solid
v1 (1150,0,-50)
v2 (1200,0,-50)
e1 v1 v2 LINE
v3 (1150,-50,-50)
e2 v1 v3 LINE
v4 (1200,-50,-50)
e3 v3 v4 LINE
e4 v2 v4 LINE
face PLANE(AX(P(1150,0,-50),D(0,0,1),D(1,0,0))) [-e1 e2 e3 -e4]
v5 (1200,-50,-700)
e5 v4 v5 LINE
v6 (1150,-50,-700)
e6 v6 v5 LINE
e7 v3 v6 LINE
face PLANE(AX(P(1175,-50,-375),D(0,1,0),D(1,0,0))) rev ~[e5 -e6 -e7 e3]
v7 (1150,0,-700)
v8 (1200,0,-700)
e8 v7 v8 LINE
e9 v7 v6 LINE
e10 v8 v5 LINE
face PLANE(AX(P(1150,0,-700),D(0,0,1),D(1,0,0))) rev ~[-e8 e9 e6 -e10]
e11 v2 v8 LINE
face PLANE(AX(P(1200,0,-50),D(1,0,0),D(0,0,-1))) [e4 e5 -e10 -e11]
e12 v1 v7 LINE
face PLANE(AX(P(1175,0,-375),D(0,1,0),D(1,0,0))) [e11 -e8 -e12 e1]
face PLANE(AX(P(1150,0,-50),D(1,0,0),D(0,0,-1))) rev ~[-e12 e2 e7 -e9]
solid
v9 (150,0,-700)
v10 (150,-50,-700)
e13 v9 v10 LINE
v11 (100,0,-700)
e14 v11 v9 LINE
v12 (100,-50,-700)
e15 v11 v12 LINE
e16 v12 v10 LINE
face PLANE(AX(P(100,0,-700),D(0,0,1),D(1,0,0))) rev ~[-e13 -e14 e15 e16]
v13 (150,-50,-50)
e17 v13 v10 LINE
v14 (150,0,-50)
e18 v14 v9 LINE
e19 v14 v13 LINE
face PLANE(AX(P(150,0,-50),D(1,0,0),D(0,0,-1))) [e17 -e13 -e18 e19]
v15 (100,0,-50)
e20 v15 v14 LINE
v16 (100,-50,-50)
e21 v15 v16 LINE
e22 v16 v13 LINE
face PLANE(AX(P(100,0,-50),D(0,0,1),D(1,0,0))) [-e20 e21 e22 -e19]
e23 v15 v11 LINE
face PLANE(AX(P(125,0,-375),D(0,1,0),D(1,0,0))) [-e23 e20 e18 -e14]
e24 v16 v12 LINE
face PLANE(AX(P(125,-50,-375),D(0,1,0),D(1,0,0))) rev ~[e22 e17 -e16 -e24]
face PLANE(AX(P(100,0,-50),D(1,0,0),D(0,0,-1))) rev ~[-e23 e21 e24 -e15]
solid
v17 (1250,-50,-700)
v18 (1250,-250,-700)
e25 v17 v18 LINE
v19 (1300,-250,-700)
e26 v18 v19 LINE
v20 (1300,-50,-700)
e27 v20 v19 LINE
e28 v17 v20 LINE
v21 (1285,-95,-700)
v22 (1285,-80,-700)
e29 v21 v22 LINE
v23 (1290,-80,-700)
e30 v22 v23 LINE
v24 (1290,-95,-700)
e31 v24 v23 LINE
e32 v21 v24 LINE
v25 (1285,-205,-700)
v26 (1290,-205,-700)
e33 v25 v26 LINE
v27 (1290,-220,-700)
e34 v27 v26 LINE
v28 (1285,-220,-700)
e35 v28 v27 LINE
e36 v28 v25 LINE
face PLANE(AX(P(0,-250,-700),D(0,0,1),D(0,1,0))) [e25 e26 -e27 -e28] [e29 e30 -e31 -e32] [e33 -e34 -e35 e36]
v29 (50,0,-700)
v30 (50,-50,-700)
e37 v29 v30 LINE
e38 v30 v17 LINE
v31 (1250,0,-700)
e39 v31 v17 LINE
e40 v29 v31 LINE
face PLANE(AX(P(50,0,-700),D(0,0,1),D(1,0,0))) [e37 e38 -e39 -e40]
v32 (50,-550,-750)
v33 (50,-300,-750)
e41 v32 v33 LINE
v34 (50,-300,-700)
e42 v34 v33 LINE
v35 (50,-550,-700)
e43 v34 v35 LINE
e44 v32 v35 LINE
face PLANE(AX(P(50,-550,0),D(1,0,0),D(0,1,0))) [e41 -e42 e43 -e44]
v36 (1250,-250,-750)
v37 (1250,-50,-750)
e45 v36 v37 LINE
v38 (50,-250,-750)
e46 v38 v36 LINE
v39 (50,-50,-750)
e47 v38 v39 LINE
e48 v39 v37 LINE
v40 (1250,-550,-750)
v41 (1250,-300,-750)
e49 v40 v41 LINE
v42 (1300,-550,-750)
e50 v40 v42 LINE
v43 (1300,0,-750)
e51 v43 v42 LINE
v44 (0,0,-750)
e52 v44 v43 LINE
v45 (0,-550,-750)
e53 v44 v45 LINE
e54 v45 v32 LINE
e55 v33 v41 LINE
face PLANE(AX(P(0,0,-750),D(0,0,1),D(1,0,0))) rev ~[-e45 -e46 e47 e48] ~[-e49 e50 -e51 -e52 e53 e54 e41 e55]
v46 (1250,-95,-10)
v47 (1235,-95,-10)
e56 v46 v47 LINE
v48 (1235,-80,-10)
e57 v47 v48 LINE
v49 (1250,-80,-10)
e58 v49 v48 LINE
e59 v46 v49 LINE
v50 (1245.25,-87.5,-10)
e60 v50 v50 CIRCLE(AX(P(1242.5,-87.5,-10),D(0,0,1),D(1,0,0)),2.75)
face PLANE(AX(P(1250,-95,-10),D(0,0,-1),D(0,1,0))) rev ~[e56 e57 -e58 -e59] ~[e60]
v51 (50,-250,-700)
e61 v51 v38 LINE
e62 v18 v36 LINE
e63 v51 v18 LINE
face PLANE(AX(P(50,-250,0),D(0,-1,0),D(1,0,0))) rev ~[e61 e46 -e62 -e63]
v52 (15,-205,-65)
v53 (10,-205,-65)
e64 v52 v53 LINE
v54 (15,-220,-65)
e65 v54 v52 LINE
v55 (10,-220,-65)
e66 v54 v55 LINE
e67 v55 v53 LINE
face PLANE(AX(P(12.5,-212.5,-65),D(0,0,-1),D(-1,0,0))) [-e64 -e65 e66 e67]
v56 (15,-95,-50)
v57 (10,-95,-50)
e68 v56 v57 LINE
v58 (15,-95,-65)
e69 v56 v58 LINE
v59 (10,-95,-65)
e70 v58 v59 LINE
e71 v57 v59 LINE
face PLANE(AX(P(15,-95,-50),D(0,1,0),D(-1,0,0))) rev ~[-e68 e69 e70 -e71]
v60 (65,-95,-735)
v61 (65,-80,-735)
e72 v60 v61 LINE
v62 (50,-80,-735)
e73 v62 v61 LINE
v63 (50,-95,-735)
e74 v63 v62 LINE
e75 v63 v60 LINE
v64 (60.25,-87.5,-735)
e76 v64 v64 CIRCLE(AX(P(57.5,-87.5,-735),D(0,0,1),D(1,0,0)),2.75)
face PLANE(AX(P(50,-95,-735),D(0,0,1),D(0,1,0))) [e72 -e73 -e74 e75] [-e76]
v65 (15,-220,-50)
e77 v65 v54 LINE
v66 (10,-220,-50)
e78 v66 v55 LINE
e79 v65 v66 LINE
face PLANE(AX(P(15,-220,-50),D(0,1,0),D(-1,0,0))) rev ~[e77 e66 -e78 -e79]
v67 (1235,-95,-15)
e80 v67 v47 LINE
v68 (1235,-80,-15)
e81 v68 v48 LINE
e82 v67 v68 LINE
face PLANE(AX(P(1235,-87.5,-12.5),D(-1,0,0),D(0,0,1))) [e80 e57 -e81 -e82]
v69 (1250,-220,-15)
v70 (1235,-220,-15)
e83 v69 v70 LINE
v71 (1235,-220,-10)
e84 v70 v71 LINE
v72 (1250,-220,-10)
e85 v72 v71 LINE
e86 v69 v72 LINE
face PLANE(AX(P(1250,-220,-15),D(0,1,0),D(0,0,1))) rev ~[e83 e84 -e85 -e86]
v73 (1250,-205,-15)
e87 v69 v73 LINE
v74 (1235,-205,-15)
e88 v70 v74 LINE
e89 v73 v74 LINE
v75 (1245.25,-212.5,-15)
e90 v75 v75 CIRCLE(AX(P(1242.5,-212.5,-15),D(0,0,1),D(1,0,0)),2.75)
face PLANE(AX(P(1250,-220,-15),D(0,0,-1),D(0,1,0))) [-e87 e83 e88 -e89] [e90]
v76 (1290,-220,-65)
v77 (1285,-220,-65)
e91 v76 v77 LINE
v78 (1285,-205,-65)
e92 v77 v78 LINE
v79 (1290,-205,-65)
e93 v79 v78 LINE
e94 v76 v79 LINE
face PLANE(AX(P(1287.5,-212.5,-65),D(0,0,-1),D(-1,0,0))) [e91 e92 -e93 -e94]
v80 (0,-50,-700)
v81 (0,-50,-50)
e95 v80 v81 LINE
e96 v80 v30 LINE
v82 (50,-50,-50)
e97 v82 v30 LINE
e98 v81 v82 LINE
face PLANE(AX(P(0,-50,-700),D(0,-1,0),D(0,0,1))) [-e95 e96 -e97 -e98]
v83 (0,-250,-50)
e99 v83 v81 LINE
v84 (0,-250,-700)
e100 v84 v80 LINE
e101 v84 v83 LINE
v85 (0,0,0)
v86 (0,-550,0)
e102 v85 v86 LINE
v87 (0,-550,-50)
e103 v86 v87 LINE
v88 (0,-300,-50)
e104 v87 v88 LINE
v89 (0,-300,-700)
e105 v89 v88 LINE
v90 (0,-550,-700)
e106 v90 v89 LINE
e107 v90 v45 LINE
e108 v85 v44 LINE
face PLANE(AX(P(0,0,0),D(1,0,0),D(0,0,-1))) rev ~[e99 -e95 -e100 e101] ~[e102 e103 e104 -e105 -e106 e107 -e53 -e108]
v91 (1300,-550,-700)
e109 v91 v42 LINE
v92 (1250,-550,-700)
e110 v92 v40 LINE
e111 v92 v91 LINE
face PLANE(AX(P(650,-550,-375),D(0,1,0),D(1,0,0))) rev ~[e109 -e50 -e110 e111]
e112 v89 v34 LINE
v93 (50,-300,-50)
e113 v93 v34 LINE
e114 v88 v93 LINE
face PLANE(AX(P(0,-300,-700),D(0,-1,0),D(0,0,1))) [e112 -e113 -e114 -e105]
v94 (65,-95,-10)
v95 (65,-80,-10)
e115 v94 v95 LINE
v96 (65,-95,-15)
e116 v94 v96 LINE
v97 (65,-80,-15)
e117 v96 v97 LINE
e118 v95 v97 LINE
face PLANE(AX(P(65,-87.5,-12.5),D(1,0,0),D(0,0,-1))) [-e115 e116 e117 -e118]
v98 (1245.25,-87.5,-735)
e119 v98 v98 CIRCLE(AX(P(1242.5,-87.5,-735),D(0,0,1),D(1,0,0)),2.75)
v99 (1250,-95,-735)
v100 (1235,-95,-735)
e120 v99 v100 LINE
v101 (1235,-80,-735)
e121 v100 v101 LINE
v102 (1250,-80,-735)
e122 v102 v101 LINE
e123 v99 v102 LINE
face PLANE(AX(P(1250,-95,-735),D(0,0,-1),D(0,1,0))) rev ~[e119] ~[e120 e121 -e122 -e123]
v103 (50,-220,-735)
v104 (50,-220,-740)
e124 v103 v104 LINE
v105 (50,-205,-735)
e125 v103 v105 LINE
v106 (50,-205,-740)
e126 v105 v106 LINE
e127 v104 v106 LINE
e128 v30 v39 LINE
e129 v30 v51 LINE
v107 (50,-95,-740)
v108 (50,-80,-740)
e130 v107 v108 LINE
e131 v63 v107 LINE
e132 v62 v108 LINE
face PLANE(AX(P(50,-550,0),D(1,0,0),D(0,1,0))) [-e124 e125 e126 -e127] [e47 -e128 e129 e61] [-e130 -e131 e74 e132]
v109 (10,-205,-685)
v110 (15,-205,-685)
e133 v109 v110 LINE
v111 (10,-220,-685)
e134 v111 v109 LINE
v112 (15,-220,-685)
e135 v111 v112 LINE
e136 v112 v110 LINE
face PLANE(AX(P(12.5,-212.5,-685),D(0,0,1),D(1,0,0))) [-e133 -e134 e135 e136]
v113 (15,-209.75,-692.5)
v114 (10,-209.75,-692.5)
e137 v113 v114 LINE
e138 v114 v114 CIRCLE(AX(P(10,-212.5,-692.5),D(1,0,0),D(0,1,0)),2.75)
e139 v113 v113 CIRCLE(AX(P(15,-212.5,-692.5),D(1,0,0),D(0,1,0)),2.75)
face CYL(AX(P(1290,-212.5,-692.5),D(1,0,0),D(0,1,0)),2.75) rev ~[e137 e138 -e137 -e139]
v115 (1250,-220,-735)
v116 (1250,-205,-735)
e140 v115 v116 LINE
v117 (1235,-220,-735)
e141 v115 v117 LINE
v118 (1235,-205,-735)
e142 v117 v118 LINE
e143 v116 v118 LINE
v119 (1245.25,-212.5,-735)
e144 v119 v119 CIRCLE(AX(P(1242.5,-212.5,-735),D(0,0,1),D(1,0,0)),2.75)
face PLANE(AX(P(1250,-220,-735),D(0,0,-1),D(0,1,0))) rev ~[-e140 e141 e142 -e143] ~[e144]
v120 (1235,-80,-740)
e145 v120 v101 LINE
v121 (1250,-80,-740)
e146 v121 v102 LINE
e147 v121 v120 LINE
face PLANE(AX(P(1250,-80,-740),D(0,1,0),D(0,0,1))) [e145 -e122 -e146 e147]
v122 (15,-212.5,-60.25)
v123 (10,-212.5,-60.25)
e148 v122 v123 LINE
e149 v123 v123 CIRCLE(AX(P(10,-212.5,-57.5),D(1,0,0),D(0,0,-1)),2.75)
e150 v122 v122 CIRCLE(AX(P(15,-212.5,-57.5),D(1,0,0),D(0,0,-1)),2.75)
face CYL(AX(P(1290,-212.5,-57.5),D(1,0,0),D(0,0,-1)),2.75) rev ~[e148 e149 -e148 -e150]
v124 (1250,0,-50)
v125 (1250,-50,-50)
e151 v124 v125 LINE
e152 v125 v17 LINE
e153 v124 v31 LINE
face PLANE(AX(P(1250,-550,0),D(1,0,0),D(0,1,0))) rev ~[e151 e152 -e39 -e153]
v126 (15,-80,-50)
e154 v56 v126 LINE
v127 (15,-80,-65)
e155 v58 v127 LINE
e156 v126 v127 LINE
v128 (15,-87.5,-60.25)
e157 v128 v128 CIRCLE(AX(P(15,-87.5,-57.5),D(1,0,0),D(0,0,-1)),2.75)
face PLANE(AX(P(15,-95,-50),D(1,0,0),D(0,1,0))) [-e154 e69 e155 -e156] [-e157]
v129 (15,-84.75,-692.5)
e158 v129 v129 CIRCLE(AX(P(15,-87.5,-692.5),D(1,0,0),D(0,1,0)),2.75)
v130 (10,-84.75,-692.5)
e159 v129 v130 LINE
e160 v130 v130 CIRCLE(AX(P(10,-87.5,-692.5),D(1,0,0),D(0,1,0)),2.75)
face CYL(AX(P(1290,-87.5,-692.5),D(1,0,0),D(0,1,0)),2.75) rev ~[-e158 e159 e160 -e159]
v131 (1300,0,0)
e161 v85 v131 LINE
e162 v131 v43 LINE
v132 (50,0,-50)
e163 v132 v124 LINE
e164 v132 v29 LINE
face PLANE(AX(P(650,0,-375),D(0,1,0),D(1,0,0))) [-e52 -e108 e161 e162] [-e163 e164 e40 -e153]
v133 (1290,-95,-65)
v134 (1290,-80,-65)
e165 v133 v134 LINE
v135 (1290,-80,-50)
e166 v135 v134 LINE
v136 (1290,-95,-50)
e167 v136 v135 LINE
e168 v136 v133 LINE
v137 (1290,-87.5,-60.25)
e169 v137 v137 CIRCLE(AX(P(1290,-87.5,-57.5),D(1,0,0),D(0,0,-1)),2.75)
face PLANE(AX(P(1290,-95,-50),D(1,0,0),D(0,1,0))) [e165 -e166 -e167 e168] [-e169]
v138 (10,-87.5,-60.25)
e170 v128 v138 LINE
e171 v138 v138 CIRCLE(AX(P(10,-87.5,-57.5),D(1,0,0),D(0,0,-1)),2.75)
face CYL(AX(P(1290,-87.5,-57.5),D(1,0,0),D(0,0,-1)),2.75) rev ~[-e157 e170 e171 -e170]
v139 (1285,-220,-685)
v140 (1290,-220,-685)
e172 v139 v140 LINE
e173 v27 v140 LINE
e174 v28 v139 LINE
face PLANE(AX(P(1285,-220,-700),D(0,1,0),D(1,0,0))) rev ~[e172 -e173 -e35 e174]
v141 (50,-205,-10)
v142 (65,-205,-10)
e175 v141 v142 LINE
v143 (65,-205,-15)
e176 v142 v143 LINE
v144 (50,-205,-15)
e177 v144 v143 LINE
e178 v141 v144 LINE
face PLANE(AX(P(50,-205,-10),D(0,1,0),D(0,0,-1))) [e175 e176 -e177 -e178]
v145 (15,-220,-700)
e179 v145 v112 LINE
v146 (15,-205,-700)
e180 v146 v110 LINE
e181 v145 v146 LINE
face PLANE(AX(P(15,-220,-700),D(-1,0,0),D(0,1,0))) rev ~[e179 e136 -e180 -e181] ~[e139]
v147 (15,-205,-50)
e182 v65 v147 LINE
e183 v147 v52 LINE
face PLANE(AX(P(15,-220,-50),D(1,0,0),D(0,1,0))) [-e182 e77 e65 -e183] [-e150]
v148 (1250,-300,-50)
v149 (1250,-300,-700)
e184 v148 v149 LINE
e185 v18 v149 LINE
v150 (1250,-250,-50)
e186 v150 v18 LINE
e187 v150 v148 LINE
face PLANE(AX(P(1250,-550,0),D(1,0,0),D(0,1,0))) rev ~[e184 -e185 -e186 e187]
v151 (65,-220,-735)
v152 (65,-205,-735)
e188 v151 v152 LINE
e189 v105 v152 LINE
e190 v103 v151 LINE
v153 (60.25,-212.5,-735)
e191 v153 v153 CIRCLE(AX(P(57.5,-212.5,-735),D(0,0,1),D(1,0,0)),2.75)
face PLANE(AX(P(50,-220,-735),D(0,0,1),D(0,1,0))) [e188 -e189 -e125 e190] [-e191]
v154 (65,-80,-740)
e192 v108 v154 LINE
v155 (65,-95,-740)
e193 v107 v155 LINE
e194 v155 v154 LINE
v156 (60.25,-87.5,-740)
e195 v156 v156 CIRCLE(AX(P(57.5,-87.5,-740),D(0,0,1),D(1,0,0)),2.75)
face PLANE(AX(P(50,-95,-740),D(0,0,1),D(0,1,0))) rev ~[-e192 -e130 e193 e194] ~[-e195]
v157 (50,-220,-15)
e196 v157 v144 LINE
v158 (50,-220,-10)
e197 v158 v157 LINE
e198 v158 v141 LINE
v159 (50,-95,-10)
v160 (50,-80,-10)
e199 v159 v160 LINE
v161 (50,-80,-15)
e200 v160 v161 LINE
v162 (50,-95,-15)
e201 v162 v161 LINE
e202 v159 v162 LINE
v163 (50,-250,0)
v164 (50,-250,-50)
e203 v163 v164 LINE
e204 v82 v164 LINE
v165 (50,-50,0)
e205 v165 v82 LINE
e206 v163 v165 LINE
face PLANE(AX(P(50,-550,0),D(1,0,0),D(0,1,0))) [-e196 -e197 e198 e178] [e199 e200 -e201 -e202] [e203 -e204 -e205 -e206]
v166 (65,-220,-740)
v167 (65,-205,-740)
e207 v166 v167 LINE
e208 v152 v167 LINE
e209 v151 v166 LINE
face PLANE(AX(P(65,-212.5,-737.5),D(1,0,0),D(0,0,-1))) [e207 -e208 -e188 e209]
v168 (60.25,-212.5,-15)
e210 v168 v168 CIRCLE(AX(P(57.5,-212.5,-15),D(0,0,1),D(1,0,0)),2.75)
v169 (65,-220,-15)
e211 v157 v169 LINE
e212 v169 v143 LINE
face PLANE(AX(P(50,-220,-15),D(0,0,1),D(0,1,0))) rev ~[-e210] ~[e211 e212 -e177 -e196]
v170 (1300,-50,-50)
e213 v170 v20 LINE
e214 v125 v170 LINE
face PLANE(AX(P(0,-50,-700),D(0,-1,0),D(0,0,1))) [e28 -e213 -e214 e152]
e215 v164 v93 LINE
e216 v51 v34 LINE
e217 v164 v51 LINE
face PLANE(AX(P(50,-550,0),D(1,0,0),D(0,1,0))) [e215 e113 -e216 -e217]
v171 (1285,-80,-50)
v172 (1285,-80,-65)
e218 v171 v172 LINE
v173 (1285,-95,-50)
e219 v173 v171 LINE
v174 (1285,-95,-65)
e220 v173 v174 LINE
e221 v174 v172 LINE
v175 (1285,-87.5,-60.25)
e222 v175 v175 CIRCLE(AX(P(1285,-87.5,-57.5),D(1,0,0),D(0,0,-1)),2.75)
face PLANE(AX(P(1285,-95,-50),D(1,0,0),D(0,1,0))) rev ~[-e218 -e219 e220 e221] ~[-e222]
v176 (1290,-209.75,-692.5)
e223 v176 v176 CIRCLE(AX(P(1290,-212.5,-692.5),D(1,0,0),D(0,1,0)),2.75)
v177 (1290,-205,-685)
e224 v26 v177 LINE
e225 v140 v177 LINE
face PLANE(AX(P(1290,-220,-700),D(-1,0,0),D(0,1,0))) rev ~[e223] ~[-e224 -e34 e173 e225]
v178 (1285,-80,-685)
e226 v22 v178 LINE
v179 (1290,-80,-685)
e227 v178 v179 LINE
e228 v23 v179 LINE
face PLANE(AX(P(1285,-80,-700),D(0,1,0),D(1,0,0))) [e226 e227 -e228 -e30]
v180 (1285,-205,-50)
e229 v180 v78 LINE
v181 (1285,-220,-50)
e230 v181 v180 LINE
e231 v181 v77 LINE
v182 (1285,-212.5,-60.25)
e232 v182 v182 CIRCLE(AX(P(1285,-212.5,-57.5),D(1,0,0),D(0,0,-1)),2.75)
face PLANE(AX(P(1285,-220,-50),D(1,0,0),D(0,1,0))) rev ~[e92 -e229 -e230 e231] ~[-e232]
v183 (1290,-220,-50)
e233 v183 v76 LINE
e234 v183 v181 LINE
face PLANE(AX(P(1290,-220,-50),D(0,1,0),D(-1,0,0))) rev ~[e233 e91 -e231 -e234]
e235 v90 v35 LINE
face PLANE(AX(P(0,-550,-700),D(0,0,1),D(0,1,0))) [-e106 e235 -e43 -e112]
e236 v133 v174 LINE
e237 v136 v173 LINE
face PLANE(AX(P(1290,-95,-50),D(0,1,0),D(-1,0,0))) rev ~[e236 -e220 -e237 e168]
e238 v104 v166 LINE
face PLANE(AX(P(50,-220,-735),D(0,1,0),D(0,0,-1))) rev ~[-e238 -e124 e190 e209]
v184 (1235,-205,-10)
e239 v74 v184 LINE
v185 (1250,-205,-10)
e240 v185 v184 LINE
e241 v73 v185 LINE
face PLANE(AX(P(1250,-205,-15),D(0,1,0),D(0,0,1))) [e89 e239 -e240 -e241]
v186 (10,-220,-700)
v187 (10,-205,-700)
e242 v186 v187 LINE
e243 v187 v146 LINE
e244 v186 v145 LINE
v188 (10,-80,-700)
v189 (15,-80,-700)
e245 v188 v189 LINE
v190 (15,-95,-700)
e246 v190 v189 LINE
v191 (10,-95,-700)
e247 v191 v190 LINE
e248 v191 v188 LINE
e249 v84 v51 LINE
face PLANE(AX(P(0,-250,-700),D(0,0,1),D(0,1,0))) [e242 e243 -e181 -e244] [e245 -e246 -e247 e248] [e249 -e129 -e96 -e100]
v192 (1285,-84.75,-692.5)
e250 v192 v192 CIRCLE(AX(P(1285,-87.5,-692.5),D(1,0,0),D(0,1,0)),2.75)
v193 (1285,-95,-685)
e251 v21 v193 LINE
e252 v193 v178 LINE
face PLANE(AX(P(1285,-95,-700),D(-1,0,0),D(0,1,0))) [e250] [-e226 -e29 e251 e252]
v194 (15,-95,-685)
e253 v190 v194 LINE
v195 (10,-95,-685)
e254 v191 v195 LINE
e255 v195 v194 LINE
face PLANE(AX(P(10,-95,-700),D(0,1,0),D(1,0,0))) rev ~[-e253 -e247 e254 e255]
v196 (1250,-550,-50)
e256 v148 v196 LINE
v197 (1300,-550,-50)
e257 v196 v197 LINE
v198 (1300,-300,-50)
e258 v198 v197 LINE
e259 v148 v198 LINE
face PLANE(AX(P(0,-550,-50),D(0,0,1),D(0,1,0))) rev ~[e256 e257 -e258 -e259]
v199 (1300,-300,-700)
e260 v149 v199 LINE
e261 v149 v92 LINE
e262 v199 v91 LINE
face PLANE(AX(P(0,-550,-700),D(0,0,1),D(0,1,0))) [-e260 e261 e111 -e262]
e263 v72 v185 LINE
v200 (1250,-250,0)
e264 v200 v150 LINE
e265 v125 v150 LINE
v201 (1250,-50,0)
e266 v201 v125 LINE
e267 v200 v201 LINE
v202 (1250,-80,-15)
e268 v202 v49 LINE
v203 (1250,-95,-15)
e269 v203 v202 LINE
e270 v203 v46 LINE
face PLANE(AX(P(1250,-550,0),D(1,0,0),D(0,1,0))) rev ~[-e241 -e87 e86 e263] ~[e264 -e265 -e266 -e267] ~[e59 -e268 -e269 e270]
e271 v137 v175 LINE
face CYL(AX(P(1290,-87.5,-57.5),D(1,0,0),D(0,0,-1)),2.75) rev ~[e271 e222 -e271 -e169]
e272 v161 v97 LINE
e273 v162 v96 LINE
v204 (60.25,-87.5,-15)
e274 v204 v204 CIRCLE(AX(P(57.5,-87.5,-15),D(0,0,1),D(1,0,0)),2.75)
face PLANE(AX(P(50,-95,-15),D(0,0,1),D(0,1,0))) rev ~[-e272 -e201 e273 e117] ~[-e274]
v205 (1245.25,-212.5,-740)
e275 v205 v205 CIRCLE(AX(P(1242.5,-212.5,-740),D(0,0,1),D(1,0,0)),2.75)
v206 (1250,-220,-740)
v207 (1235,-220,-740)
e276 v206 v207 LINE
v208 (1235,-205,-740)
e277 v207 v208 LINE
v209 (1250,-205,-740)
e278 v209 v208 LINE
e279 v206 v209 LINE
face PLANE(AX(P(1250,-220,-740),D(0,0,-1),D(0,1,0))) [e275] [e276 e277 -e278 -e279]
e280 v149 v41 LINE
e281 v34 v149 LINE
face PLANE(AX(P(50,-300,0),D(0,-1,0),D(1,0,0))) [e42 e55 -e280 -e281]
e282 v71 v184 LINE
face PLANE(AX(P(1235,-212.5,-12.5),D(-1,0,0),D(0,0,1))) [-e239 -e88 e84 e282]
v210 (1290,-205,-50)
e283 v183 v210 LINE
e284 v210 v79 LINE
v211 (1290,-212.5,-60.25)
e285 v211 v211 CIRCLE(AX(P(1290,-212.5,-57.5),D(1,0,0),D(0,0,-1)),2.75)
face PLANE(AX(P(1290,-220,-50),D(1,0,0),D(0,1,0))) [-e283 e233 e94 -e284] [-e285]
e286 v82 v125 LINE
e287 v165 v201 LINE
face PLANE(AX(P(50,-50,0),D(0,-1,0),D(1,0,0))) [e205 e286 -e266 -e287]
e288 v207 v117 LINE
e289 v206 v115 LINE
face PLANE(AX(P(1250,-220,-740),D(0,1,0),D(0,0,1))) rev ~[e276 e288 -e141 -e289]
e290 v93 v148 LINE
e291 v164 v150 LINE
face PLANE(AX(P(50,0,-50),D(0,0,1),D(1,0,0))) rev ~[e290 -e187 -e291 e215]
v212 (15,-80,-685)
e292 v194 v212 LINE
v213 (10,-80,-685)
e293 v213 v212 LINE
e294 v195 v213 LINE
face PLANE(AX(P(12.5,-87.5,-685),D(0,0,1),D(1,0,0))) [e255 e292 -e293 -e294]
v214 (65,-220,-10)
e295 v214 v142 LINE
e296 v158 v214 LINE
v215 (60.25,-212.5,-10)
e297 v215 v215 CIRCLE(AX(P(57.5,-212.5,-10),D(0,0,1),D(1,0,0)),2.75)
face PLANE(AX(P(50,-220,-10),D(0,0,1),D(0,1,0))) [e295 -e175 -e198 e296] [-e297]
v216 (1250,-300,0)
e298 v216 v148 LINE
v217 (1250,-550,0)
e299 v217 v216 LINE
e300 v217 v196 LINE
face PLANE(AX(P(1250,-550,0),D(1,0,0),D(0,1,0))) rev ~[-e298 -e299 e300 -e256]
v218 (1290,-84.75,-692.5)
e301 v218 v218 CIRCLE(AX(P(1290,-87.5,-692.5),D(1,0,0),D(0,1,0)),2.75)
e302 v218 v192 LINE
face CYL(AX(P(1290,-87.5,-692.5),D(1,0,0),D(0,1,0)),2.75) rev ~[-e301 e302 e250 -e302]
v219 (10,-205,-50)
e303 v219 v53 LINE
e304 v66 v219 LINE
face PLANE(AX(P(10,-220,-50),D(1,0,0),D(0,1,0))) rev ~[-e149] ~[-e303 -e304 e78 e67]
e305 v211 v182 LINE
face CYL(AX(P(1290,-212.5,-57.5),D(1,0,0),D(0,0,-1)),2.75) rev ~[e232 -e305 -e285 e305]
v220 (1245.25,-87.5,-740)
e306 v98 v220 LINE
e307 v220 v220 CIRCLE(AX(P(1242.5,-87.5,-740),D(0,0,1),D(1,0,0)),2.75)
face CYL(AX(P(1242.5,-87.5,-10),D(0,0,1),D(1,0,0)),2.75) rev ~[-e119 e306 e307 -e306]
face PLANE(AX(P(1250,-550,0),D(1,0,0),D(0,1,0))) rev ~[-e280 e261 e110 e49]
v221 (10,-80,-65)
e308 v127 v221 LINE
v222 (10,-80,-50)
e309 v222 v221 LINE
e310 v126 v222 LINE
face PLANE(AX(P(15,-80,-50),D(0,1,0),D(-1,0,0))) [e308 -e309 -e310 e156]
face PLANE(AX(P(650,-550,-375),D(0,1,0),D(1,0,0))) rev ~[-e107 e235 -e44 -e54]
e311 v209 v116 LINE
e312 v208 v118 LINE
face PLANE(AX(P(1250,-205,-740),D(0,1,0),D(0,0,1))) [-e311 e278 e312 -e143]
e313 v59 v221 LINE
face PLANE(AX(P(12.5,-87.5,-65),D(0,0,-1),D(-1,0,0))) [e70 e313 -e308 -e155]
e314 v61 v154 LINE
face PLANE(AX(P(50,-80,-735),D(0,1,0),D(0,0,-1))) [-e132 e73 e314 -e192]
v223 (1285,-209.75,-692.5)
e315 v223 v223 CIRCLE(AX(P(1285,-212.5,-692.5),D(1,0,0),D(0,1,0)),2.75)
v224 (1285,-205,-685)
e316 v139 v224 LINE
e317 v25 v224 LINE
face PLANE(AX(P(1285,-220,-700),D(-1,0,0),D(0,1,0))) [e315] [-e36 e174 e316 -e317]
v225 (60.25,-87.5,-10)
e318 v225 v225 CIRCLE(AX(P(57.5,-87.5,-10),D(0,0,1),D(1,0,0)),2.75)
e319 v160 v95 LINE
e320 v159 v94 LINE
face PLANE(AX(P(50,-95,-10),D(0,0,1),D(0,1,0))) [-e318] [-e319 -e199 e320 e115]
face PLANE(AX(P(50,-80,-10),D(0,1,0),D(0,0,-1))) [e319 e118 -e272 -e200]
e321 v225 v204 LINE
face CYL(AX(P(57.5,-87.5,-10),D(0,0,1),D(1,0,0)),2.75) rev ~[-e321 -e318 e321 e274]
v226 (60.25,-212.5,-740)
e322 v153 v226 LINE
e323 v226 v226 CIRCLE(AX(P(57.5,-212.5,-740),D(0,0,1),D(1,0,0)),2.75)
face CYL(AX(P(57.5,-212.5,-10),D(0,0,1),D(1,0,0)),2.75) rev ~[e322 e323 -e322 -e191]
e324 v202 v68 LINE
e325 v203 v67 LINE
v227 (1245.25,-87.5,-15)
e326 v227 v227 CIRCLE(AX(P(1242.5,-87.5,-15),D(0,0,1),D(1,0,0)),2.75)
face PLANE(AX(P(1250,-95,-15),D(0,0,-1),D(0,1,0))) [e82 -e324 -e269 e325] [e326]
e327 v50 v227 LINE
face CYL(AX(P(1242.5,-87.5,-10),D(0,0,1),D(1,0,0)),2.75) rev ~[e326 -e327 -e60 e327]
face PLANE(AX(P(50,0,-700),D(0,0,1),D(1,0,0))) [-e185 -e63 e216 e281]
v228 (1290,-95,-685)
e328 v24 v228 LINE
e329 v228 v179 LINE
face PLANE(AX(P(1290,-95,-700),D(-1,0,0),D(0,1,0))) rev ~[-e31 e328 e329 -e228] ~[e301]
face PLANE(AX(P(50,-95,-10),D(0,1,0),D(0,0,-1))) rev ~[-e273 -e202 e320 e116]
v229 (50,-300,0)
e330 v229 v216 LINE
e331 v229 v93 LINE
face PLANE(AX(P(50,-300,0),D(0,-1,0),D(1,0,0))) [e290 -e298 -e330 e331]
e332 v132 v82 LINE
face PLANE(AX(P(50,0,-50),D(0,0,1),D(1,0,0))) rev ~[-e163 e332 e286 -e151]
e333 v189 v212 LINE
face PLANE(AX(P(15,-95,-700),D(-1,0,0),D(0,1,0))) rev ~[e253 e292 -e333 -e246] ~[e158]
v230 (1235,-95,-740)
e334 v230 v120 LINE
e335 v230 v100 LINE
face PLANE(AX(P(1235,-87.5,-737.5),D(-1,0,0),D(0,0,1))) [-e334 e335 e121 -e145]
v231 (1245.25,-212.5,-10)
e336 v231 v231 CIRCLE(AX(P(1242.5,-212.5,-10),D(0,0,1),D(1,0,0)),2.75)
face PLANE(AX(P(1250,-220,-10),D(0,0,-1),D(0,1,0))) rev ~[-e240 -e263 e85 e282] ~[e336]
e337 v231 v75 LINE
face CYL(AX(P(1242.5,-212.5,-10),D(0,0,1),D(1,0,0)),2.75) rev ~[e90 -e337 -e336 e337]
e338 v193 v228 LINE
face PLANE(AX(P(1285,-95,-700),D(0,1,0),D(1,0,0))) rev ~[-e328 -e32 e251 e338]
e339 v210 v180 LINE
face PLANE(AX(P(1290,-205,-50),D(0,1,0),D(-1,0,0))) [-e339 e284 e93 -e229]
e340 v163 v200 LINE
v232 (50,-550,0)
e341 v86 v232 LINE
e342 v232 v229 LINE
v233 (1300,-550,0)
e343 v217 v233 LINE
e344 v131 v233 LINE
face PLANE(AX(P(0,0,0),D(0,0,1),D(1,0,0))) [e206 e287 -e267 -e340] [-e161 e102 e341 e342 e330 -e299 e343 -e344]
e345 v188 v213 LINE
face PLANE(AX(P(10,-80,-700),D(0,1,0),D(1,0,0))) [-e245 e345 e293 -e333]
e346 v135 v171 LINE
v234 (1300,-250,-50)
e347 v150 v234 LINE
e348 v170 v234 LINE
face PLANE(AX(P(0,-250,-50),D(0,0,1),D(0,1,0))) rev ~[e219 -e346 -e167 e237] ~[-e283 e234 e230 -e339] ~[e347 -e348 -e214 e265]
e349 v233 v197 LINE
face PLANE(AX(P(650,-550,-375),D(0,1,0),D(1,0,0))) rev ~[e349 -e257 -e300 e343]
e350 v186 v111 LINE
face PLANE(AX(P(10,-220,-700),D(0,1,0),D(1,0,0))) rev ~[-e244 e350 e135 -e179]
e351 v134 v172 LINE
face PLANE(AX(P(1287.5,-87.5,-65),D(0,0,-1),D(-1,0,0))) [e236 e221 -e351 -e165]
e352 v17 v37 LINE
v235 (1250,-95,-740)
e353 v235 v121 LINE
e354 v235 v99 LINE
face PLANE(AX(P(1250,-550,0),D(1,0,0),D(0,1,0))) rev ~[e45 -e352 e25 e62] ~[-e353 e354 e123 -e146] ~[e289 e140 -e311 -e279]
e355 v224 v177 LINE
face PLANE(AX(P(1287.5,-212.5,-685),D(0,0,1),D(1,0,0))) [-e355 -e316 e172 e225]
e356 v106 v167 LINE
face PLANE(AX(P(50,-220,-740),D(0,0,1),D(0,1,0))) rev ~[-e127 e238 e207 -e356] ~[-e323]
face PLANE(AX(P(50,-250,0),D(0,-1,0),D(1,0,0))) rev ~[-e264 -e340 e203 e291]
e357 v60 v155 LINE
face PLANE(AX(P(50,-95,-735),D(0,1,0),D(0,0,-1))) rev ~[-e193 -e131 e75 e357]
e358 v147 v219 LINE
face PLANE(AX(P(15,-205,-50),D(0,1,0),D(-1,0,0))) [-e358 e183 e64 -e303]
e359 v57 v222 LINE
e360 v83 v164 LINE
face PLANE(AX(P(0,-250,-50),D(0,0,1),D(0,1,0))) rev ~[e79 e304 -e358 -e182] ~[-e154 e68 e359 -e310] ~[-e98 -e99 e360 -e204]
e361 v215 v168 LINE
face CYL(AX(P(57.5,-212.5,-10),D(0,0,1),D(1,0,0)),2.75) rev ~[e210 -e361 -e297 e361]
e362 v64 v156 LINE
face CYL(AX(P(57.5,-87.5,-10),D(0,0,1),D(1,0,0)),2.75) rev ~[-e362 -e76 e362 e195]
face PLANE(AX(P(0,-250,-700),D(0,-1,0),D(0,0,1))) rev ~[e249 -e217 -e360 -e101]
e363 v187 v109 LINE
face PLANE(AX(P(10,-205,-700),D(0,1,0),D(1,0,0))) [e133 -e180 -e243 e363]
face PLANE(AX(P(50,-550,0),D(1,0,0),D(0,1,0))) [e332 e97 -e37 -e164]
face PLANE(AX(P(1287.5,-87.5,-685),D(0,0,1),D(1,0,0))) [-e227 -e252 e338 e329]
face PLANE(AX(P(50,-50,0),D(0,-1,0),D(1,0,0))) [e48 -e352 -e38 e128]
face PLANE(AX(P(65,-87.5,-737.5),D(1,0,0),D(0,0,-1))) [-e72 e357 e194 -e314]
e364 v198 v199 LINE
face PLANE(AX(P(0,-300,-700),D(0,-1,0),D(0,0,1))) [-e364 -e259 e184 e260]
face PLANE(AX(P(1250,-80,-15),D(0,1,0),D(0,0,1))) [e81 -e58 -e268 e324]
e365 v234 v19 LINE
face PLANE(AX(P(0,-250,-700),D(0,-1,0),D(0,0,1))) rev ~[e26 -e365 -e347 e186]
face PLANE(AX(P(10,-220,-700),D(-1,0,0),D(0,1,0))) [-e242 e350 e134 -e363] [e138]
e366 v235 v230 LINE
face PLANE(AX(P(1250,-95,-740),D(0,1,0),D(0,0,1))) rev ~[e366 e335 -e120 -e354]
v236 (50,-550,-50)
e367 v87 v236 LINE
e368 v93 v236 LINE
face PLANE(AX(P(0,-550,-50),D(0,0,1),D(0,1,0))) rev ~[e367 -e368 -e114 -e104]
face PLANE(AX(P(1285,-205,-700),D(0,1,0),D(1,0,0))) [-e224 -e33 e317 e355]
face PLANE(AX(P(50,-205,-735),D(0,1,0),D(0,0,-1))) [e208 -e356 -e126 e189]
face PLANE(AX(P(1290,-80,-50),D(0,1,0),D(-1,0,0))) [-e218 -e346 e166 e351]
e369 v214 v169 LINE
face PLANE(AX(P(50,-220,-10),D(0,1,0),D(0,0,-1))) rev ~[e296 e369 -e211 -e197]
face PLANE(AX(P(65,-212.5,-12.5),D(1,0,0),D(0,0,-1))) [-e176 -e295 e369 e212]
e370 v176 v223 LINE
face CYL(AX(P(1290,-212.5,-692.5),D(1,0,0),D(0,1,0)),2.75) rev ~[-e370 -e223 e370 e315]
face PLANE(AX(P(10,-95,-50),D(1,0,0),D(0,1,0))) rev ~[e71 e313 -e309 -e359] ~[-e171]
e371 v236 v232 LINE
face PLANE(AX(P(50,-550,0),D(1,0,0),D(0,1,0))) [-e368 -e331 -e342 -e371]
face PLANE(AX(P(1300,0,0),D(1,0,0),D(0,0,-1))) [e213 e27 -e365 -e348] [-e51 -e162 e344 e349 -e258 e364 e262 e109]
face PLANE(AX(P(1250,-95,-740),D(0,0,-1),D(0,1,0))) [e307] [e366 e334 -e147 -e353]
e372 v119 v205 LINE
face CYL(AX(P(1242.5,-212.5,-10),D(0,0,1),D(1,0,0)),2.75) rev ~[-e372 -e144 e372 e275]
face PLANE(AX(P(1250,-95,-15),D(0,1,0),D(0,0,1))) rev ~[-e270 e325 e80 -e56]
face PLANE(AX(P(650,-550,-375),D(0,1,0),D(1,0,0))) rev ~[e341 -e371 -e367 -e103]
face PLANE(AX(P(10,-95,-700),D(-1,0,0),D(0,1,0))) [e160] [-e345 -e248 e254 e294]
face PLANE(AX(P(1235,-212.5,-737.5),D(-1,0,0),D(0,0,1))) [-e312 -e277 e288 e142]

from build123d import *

# Parameters (mm, degrees)
ESQUISSE1_W             = 1300
ESQUISSE1_H             = 750
ESQUISSE1_W_2           = 1200
ESQUISSE1_H_2           = 650
BOSS_EXTRU_1_DEPTH      = 550
ESQUISSE2_W             = 1200
ESQUISSE2_H             = 200
ESQUISSE2_H_2           = 250
ENL_V_MAT_EXTRU_1_DEPTH = 1599.436736315
ESQUISSE3_W             = 650
ESQUISSE3_H             = 200
ESQUISSE3_H_2           = 250
ENL_V_MAT_EXTRU_2_DEPTH = 1599.436736315
ESQUISSE4_W             = 50
ESQUISSE4_H             = 650
BOSS_EXTRU_2_DEPTH      = 50
BOSS_EXTRU_2_2_DEPTH    = 50
ESQUISSE5_W             = 5
ESQUISSE5_H             = 15
BOSS_EXTRU_3_DEPTH      = 15
ESQUISSE6_W             = 5
ESQUISSE6_H             = 15
BOSS_EXTRU_4_DEPTH      = 15
ESQUISSE7_W             = 5
ESQUISSE7_H             = 15
BOSS_EXTRU_5_DEPTH      = 15
ESQUISSE8_W             = 5
ESQUISSE8_H             = 15
BOSS_EXTRU_6_DEPTH      = 15
ESQUISSE10_W            = 5
ESQUISSE10_H            = 15
BOSS_EXTRU_7_DEPTH      = 15
ESQUISSE12_W            = 5
ESQUISSE12_H            = 15
BOSS_EXTRU_8_DEPTH      = 15
ESQUISSE14_W            = 5
ESQUISSE14_H            = 15
BOSS_EXTRU_9_DEPTH      = 15
ESQUISSE15_W            = 5
ESQUISSE15_H            = 15
BOSS_EXTRU_10_DEPTH     = 15
ESQUISSE16_R            = 2.75
ENL_V_MAT_EXTRU_3_DEPTH = 1500
ESQUISSE17_R            = 2.75
ENL_V_MAT_EXTRU_4_DEPTH = 1000


with BuildPart() as part:
    # Esquisse1 → Boss.-Extru.1 (new body)
    with BuildSketch(Plane(origin=(0, 0, 0), x_dir=(1, 0, 0), z_dir=(0, 1, 0))):
        with Locations((650, 375)):
            Rectangle(ESQUISSE1_W, ESQUISSE1_H)
        with Locations((650, 375)):
            Rectangle(ESQUISSE1_W_2, ESQUISSE1_H_2, mode=Mode.SUBTRACT)
    extrude(amount=-BOSS_EXTRU_1_DEPTH)

    # Esquisse2 → Enlèv. mat.-Extru.1 (cut, through all)
    with BuildSketch(Plane.XY):
        with Locations((650, -150)):
            Rectangle(ESQUISSE2_W, ESQUISSE2_H)
        with Locations((650, -425)):
            Rectangle(ESQUISSE2_W, ESQUISSE2_H_2)
    extrude(amount=-ENL_V_MAT_EXTRU_1_DEPTH, mode=Mode.SUBTRACT)

    # Esquisse3 → Enlèv. mat.-Extru.2 (cut, through all)
    with BuildSketch(Plane.ZY):
        with Locations((-375, -150)):
            Rectangle(ESQUISSE3_W, ESQUISSE3_H)
        with Locations((-375, -425)):
            Rectangle(ESQUISSE3_W, ESQUISSE3_H_2)
    extrude(amount=-ENL_V_MAT_EXTRU_2_DEPTH, mode=Mode.SUBTRACT)

    # Esquisse5 → Boss.-Extru.3 (add)
    with BuildSketch(Plane.ZY.offset(-1250)):
        with Locations((-737.5, -87.5)):
            Rectangle(ESQUISSE5_W, ESQUISSE5_H)
        with Locations((-737.5, -212.5)):
            Rectangle(ESQUISSE5_W, ESQUISSE5_H)
    extrude(amount=BOSS_EXTRU_3_DEPTH)

    # Esquisse6 → Boss.-Extru.4 (add)
    with BuildSketch(Plane.XY.offset(-700)):
        with Locations((1287.5, -87.5)):
            Rectangle(ESQUISSE6_W, ESQUISSE6_H)
        with Locations((1287.5, -212.5)):
            Rectangle(ESQUISSE6_W, ESQUISSE6_H)
    extrude(amount=BOSS_EXTRU_4_DEPTH)

    # Esquisse7 → Boss.-Extru.5 (add)
    with BuildSketch(Plane(origin=(50, 0, 0), x_dir=(0, 0, -1), z_dir=(1, 0, 0))):
        with Locations((737.5, -87.5)):
            Rectangle(ESQUISSE7_W, ESQUISSE7_H)
        with Locations((737.5, -212.5)):
            Rectangle(ESQUISSE7_W, ESQUISSE7_H)
    extrude(amount=BOSS_EXTRU_5_DEPTH)

    # Esquisse8 → Boss.-Extru.6 (add)
    with BuildSketch(Plane.XY.offset(-700)):
        with Locations((12.5, -87.5)):
            Rectangle(ESQUISSE8_W, ESQUISSE8_H)
        with Locations((12.5, -212.5)):
            Rectangle(ESQUISSE8_W, ESQUISSE8_H)
    extrude(amount=BOSS_EXTRU_6_DEPTH)

    # Esquisse10 → Boss.-Extru.7 (add)
    with BuildSketch(Plane(origin=(50, 0, 0), x_dir=(0, 0, -1), z_dir=(1, 0, 0))):
        with Locations((12.5, -87.5)):
            Rectangle(ESQUISSE10_W, ESQUISSE10_H)
        with Locations((12.5, -212.5)):
            Rectangle(ESQUISSE10_W, ESQUISSE10_H)
    extrude(amount=BOSS_EXTRU_7_DEPTH)

    # Esquisse12 → Boss.-Extru.8 (add)
    with BuildSketch(Plane(origin=(0, 0, -50), x_dir=(-1, 0, 0), z_dir=(0, 0, -1))):
        with Locations((-12.5, -87.5)):
            Rectangle(ESQUISSE12_W, ESQUISSE12_H)
        with Locations((-12.5, -212.5)):
            Rectangle(ESQUISSE12_W, ESQUISSE12_H)
    extrude(amount=BOSS_EXTRU_8_DEPTH)

    # Esquisse14 → Boss.-Extru.9 (add)
    with BuildSketch(Plane.ZY.offset(-1250)):
        with Locations((-12.5, -87.5)):
            Rectangle(ESQUISSE14_W, ESQUISSE14_H)
        with Locations((-12.5, -212.5)):
            Rectangle(ESQUISSE14_W, ESQUISSE14_H)
    extrude(amount=BOSS_EXTRU_9_DEPTH)

    # Esquisse15 → Boss.-Extru.10 (add)
    with BuildSketch(Plane(origin=(0, 0, -50), x_dir=(-1, 0, 0), z_dir=(0, 0, -1))):
        with Locations((-1287.5, -212.5)):
            Rectangle(ESQUISSE15_W, ESQUISSE15_H)
        with Locations((-1287.5, -87.5)):
            Rectangle(ESQUISSE15_W, ESQUISSE15_H)
    extrude(amount=BOSS_EXTRU_10_DEPTH)

    # Esquisse16 → Enlèv. mat.-Extru.3 (cut)
    with BuildSketch(Plane(origin=(1290, 0, 0), x_dir=(0, 0, -1), z_dir=(1, 0, 0))):
        with Locations((57.5, -87.5)):
            Circle(ESQUISSE16_R)
        with Locations((57.5, -212.5)):
            Circle(ESQUISSE16_R)
        with Locations(Location((692.5, -87.5, 0), (0, 0, 90))):
            Circle(ESQUISSE16_R)
        with Locations(Location((692.5, -212.5, 0), (0, 0, 90))):
            Circle(ESQUISSE16_R)
    extrude(amount=-ENL_V_MAT_EXTRU_3_DEPTH, mode=Mode.SUBTRACT)

    # Esquisse17 → Enlèv. mat.-Extru.4 (cut)
    with BuildSketch(Plane.XY.offset(-10)):
        with Locations((57.5, -87.5)):
            Circle(ESQUISSE17_R)
        with Locations((57.5, -212.5)):
            Circle(ESQUISSE17_R)
        with Locations((1242.5, -212.5)):
            Circle(ESQUISSE17_R)
        with Locations((1242.5, -87.5)):
            Circle(ESQUISSE17_R)
    extrude(amount=-ENL_V_MAT_EXTRU_4_DEPTH, mode=Mode.SUBTRACT)


with BuildPart() as body_2:
    # Esquisse4 → Boss.-Extru.2 (new body)
    with BuildSketch(Plane(origin=(0, 0, 0), x_dir=(1, 0, 0), z_dir=(0, 1, 0))):
        with Locations((125, 375)):
            Rectangle(ESQUISSE4_W, ESQUISSE4_H)
    extrude(amount=-BOSS_EXTRU_2_DEPTH)


with BuildPart() as body_3:
    # Esquisse4 → Boss.-Extru.2 2 (new body)
    with BuildSketch(Plane(origin=(0, 0, 0), x_dir=(1, 0, 0), z_dir=(0, 1, 0))):
        with Locations((1175, 375)):
            Rectangle(ESQUISSE4_W, ESQUISSE4_H)
    extrude(amount=-BOSS_EXTRU_2_2_DEPTH)


solid = Compound([part.part, body_2.part, body_3.part])
